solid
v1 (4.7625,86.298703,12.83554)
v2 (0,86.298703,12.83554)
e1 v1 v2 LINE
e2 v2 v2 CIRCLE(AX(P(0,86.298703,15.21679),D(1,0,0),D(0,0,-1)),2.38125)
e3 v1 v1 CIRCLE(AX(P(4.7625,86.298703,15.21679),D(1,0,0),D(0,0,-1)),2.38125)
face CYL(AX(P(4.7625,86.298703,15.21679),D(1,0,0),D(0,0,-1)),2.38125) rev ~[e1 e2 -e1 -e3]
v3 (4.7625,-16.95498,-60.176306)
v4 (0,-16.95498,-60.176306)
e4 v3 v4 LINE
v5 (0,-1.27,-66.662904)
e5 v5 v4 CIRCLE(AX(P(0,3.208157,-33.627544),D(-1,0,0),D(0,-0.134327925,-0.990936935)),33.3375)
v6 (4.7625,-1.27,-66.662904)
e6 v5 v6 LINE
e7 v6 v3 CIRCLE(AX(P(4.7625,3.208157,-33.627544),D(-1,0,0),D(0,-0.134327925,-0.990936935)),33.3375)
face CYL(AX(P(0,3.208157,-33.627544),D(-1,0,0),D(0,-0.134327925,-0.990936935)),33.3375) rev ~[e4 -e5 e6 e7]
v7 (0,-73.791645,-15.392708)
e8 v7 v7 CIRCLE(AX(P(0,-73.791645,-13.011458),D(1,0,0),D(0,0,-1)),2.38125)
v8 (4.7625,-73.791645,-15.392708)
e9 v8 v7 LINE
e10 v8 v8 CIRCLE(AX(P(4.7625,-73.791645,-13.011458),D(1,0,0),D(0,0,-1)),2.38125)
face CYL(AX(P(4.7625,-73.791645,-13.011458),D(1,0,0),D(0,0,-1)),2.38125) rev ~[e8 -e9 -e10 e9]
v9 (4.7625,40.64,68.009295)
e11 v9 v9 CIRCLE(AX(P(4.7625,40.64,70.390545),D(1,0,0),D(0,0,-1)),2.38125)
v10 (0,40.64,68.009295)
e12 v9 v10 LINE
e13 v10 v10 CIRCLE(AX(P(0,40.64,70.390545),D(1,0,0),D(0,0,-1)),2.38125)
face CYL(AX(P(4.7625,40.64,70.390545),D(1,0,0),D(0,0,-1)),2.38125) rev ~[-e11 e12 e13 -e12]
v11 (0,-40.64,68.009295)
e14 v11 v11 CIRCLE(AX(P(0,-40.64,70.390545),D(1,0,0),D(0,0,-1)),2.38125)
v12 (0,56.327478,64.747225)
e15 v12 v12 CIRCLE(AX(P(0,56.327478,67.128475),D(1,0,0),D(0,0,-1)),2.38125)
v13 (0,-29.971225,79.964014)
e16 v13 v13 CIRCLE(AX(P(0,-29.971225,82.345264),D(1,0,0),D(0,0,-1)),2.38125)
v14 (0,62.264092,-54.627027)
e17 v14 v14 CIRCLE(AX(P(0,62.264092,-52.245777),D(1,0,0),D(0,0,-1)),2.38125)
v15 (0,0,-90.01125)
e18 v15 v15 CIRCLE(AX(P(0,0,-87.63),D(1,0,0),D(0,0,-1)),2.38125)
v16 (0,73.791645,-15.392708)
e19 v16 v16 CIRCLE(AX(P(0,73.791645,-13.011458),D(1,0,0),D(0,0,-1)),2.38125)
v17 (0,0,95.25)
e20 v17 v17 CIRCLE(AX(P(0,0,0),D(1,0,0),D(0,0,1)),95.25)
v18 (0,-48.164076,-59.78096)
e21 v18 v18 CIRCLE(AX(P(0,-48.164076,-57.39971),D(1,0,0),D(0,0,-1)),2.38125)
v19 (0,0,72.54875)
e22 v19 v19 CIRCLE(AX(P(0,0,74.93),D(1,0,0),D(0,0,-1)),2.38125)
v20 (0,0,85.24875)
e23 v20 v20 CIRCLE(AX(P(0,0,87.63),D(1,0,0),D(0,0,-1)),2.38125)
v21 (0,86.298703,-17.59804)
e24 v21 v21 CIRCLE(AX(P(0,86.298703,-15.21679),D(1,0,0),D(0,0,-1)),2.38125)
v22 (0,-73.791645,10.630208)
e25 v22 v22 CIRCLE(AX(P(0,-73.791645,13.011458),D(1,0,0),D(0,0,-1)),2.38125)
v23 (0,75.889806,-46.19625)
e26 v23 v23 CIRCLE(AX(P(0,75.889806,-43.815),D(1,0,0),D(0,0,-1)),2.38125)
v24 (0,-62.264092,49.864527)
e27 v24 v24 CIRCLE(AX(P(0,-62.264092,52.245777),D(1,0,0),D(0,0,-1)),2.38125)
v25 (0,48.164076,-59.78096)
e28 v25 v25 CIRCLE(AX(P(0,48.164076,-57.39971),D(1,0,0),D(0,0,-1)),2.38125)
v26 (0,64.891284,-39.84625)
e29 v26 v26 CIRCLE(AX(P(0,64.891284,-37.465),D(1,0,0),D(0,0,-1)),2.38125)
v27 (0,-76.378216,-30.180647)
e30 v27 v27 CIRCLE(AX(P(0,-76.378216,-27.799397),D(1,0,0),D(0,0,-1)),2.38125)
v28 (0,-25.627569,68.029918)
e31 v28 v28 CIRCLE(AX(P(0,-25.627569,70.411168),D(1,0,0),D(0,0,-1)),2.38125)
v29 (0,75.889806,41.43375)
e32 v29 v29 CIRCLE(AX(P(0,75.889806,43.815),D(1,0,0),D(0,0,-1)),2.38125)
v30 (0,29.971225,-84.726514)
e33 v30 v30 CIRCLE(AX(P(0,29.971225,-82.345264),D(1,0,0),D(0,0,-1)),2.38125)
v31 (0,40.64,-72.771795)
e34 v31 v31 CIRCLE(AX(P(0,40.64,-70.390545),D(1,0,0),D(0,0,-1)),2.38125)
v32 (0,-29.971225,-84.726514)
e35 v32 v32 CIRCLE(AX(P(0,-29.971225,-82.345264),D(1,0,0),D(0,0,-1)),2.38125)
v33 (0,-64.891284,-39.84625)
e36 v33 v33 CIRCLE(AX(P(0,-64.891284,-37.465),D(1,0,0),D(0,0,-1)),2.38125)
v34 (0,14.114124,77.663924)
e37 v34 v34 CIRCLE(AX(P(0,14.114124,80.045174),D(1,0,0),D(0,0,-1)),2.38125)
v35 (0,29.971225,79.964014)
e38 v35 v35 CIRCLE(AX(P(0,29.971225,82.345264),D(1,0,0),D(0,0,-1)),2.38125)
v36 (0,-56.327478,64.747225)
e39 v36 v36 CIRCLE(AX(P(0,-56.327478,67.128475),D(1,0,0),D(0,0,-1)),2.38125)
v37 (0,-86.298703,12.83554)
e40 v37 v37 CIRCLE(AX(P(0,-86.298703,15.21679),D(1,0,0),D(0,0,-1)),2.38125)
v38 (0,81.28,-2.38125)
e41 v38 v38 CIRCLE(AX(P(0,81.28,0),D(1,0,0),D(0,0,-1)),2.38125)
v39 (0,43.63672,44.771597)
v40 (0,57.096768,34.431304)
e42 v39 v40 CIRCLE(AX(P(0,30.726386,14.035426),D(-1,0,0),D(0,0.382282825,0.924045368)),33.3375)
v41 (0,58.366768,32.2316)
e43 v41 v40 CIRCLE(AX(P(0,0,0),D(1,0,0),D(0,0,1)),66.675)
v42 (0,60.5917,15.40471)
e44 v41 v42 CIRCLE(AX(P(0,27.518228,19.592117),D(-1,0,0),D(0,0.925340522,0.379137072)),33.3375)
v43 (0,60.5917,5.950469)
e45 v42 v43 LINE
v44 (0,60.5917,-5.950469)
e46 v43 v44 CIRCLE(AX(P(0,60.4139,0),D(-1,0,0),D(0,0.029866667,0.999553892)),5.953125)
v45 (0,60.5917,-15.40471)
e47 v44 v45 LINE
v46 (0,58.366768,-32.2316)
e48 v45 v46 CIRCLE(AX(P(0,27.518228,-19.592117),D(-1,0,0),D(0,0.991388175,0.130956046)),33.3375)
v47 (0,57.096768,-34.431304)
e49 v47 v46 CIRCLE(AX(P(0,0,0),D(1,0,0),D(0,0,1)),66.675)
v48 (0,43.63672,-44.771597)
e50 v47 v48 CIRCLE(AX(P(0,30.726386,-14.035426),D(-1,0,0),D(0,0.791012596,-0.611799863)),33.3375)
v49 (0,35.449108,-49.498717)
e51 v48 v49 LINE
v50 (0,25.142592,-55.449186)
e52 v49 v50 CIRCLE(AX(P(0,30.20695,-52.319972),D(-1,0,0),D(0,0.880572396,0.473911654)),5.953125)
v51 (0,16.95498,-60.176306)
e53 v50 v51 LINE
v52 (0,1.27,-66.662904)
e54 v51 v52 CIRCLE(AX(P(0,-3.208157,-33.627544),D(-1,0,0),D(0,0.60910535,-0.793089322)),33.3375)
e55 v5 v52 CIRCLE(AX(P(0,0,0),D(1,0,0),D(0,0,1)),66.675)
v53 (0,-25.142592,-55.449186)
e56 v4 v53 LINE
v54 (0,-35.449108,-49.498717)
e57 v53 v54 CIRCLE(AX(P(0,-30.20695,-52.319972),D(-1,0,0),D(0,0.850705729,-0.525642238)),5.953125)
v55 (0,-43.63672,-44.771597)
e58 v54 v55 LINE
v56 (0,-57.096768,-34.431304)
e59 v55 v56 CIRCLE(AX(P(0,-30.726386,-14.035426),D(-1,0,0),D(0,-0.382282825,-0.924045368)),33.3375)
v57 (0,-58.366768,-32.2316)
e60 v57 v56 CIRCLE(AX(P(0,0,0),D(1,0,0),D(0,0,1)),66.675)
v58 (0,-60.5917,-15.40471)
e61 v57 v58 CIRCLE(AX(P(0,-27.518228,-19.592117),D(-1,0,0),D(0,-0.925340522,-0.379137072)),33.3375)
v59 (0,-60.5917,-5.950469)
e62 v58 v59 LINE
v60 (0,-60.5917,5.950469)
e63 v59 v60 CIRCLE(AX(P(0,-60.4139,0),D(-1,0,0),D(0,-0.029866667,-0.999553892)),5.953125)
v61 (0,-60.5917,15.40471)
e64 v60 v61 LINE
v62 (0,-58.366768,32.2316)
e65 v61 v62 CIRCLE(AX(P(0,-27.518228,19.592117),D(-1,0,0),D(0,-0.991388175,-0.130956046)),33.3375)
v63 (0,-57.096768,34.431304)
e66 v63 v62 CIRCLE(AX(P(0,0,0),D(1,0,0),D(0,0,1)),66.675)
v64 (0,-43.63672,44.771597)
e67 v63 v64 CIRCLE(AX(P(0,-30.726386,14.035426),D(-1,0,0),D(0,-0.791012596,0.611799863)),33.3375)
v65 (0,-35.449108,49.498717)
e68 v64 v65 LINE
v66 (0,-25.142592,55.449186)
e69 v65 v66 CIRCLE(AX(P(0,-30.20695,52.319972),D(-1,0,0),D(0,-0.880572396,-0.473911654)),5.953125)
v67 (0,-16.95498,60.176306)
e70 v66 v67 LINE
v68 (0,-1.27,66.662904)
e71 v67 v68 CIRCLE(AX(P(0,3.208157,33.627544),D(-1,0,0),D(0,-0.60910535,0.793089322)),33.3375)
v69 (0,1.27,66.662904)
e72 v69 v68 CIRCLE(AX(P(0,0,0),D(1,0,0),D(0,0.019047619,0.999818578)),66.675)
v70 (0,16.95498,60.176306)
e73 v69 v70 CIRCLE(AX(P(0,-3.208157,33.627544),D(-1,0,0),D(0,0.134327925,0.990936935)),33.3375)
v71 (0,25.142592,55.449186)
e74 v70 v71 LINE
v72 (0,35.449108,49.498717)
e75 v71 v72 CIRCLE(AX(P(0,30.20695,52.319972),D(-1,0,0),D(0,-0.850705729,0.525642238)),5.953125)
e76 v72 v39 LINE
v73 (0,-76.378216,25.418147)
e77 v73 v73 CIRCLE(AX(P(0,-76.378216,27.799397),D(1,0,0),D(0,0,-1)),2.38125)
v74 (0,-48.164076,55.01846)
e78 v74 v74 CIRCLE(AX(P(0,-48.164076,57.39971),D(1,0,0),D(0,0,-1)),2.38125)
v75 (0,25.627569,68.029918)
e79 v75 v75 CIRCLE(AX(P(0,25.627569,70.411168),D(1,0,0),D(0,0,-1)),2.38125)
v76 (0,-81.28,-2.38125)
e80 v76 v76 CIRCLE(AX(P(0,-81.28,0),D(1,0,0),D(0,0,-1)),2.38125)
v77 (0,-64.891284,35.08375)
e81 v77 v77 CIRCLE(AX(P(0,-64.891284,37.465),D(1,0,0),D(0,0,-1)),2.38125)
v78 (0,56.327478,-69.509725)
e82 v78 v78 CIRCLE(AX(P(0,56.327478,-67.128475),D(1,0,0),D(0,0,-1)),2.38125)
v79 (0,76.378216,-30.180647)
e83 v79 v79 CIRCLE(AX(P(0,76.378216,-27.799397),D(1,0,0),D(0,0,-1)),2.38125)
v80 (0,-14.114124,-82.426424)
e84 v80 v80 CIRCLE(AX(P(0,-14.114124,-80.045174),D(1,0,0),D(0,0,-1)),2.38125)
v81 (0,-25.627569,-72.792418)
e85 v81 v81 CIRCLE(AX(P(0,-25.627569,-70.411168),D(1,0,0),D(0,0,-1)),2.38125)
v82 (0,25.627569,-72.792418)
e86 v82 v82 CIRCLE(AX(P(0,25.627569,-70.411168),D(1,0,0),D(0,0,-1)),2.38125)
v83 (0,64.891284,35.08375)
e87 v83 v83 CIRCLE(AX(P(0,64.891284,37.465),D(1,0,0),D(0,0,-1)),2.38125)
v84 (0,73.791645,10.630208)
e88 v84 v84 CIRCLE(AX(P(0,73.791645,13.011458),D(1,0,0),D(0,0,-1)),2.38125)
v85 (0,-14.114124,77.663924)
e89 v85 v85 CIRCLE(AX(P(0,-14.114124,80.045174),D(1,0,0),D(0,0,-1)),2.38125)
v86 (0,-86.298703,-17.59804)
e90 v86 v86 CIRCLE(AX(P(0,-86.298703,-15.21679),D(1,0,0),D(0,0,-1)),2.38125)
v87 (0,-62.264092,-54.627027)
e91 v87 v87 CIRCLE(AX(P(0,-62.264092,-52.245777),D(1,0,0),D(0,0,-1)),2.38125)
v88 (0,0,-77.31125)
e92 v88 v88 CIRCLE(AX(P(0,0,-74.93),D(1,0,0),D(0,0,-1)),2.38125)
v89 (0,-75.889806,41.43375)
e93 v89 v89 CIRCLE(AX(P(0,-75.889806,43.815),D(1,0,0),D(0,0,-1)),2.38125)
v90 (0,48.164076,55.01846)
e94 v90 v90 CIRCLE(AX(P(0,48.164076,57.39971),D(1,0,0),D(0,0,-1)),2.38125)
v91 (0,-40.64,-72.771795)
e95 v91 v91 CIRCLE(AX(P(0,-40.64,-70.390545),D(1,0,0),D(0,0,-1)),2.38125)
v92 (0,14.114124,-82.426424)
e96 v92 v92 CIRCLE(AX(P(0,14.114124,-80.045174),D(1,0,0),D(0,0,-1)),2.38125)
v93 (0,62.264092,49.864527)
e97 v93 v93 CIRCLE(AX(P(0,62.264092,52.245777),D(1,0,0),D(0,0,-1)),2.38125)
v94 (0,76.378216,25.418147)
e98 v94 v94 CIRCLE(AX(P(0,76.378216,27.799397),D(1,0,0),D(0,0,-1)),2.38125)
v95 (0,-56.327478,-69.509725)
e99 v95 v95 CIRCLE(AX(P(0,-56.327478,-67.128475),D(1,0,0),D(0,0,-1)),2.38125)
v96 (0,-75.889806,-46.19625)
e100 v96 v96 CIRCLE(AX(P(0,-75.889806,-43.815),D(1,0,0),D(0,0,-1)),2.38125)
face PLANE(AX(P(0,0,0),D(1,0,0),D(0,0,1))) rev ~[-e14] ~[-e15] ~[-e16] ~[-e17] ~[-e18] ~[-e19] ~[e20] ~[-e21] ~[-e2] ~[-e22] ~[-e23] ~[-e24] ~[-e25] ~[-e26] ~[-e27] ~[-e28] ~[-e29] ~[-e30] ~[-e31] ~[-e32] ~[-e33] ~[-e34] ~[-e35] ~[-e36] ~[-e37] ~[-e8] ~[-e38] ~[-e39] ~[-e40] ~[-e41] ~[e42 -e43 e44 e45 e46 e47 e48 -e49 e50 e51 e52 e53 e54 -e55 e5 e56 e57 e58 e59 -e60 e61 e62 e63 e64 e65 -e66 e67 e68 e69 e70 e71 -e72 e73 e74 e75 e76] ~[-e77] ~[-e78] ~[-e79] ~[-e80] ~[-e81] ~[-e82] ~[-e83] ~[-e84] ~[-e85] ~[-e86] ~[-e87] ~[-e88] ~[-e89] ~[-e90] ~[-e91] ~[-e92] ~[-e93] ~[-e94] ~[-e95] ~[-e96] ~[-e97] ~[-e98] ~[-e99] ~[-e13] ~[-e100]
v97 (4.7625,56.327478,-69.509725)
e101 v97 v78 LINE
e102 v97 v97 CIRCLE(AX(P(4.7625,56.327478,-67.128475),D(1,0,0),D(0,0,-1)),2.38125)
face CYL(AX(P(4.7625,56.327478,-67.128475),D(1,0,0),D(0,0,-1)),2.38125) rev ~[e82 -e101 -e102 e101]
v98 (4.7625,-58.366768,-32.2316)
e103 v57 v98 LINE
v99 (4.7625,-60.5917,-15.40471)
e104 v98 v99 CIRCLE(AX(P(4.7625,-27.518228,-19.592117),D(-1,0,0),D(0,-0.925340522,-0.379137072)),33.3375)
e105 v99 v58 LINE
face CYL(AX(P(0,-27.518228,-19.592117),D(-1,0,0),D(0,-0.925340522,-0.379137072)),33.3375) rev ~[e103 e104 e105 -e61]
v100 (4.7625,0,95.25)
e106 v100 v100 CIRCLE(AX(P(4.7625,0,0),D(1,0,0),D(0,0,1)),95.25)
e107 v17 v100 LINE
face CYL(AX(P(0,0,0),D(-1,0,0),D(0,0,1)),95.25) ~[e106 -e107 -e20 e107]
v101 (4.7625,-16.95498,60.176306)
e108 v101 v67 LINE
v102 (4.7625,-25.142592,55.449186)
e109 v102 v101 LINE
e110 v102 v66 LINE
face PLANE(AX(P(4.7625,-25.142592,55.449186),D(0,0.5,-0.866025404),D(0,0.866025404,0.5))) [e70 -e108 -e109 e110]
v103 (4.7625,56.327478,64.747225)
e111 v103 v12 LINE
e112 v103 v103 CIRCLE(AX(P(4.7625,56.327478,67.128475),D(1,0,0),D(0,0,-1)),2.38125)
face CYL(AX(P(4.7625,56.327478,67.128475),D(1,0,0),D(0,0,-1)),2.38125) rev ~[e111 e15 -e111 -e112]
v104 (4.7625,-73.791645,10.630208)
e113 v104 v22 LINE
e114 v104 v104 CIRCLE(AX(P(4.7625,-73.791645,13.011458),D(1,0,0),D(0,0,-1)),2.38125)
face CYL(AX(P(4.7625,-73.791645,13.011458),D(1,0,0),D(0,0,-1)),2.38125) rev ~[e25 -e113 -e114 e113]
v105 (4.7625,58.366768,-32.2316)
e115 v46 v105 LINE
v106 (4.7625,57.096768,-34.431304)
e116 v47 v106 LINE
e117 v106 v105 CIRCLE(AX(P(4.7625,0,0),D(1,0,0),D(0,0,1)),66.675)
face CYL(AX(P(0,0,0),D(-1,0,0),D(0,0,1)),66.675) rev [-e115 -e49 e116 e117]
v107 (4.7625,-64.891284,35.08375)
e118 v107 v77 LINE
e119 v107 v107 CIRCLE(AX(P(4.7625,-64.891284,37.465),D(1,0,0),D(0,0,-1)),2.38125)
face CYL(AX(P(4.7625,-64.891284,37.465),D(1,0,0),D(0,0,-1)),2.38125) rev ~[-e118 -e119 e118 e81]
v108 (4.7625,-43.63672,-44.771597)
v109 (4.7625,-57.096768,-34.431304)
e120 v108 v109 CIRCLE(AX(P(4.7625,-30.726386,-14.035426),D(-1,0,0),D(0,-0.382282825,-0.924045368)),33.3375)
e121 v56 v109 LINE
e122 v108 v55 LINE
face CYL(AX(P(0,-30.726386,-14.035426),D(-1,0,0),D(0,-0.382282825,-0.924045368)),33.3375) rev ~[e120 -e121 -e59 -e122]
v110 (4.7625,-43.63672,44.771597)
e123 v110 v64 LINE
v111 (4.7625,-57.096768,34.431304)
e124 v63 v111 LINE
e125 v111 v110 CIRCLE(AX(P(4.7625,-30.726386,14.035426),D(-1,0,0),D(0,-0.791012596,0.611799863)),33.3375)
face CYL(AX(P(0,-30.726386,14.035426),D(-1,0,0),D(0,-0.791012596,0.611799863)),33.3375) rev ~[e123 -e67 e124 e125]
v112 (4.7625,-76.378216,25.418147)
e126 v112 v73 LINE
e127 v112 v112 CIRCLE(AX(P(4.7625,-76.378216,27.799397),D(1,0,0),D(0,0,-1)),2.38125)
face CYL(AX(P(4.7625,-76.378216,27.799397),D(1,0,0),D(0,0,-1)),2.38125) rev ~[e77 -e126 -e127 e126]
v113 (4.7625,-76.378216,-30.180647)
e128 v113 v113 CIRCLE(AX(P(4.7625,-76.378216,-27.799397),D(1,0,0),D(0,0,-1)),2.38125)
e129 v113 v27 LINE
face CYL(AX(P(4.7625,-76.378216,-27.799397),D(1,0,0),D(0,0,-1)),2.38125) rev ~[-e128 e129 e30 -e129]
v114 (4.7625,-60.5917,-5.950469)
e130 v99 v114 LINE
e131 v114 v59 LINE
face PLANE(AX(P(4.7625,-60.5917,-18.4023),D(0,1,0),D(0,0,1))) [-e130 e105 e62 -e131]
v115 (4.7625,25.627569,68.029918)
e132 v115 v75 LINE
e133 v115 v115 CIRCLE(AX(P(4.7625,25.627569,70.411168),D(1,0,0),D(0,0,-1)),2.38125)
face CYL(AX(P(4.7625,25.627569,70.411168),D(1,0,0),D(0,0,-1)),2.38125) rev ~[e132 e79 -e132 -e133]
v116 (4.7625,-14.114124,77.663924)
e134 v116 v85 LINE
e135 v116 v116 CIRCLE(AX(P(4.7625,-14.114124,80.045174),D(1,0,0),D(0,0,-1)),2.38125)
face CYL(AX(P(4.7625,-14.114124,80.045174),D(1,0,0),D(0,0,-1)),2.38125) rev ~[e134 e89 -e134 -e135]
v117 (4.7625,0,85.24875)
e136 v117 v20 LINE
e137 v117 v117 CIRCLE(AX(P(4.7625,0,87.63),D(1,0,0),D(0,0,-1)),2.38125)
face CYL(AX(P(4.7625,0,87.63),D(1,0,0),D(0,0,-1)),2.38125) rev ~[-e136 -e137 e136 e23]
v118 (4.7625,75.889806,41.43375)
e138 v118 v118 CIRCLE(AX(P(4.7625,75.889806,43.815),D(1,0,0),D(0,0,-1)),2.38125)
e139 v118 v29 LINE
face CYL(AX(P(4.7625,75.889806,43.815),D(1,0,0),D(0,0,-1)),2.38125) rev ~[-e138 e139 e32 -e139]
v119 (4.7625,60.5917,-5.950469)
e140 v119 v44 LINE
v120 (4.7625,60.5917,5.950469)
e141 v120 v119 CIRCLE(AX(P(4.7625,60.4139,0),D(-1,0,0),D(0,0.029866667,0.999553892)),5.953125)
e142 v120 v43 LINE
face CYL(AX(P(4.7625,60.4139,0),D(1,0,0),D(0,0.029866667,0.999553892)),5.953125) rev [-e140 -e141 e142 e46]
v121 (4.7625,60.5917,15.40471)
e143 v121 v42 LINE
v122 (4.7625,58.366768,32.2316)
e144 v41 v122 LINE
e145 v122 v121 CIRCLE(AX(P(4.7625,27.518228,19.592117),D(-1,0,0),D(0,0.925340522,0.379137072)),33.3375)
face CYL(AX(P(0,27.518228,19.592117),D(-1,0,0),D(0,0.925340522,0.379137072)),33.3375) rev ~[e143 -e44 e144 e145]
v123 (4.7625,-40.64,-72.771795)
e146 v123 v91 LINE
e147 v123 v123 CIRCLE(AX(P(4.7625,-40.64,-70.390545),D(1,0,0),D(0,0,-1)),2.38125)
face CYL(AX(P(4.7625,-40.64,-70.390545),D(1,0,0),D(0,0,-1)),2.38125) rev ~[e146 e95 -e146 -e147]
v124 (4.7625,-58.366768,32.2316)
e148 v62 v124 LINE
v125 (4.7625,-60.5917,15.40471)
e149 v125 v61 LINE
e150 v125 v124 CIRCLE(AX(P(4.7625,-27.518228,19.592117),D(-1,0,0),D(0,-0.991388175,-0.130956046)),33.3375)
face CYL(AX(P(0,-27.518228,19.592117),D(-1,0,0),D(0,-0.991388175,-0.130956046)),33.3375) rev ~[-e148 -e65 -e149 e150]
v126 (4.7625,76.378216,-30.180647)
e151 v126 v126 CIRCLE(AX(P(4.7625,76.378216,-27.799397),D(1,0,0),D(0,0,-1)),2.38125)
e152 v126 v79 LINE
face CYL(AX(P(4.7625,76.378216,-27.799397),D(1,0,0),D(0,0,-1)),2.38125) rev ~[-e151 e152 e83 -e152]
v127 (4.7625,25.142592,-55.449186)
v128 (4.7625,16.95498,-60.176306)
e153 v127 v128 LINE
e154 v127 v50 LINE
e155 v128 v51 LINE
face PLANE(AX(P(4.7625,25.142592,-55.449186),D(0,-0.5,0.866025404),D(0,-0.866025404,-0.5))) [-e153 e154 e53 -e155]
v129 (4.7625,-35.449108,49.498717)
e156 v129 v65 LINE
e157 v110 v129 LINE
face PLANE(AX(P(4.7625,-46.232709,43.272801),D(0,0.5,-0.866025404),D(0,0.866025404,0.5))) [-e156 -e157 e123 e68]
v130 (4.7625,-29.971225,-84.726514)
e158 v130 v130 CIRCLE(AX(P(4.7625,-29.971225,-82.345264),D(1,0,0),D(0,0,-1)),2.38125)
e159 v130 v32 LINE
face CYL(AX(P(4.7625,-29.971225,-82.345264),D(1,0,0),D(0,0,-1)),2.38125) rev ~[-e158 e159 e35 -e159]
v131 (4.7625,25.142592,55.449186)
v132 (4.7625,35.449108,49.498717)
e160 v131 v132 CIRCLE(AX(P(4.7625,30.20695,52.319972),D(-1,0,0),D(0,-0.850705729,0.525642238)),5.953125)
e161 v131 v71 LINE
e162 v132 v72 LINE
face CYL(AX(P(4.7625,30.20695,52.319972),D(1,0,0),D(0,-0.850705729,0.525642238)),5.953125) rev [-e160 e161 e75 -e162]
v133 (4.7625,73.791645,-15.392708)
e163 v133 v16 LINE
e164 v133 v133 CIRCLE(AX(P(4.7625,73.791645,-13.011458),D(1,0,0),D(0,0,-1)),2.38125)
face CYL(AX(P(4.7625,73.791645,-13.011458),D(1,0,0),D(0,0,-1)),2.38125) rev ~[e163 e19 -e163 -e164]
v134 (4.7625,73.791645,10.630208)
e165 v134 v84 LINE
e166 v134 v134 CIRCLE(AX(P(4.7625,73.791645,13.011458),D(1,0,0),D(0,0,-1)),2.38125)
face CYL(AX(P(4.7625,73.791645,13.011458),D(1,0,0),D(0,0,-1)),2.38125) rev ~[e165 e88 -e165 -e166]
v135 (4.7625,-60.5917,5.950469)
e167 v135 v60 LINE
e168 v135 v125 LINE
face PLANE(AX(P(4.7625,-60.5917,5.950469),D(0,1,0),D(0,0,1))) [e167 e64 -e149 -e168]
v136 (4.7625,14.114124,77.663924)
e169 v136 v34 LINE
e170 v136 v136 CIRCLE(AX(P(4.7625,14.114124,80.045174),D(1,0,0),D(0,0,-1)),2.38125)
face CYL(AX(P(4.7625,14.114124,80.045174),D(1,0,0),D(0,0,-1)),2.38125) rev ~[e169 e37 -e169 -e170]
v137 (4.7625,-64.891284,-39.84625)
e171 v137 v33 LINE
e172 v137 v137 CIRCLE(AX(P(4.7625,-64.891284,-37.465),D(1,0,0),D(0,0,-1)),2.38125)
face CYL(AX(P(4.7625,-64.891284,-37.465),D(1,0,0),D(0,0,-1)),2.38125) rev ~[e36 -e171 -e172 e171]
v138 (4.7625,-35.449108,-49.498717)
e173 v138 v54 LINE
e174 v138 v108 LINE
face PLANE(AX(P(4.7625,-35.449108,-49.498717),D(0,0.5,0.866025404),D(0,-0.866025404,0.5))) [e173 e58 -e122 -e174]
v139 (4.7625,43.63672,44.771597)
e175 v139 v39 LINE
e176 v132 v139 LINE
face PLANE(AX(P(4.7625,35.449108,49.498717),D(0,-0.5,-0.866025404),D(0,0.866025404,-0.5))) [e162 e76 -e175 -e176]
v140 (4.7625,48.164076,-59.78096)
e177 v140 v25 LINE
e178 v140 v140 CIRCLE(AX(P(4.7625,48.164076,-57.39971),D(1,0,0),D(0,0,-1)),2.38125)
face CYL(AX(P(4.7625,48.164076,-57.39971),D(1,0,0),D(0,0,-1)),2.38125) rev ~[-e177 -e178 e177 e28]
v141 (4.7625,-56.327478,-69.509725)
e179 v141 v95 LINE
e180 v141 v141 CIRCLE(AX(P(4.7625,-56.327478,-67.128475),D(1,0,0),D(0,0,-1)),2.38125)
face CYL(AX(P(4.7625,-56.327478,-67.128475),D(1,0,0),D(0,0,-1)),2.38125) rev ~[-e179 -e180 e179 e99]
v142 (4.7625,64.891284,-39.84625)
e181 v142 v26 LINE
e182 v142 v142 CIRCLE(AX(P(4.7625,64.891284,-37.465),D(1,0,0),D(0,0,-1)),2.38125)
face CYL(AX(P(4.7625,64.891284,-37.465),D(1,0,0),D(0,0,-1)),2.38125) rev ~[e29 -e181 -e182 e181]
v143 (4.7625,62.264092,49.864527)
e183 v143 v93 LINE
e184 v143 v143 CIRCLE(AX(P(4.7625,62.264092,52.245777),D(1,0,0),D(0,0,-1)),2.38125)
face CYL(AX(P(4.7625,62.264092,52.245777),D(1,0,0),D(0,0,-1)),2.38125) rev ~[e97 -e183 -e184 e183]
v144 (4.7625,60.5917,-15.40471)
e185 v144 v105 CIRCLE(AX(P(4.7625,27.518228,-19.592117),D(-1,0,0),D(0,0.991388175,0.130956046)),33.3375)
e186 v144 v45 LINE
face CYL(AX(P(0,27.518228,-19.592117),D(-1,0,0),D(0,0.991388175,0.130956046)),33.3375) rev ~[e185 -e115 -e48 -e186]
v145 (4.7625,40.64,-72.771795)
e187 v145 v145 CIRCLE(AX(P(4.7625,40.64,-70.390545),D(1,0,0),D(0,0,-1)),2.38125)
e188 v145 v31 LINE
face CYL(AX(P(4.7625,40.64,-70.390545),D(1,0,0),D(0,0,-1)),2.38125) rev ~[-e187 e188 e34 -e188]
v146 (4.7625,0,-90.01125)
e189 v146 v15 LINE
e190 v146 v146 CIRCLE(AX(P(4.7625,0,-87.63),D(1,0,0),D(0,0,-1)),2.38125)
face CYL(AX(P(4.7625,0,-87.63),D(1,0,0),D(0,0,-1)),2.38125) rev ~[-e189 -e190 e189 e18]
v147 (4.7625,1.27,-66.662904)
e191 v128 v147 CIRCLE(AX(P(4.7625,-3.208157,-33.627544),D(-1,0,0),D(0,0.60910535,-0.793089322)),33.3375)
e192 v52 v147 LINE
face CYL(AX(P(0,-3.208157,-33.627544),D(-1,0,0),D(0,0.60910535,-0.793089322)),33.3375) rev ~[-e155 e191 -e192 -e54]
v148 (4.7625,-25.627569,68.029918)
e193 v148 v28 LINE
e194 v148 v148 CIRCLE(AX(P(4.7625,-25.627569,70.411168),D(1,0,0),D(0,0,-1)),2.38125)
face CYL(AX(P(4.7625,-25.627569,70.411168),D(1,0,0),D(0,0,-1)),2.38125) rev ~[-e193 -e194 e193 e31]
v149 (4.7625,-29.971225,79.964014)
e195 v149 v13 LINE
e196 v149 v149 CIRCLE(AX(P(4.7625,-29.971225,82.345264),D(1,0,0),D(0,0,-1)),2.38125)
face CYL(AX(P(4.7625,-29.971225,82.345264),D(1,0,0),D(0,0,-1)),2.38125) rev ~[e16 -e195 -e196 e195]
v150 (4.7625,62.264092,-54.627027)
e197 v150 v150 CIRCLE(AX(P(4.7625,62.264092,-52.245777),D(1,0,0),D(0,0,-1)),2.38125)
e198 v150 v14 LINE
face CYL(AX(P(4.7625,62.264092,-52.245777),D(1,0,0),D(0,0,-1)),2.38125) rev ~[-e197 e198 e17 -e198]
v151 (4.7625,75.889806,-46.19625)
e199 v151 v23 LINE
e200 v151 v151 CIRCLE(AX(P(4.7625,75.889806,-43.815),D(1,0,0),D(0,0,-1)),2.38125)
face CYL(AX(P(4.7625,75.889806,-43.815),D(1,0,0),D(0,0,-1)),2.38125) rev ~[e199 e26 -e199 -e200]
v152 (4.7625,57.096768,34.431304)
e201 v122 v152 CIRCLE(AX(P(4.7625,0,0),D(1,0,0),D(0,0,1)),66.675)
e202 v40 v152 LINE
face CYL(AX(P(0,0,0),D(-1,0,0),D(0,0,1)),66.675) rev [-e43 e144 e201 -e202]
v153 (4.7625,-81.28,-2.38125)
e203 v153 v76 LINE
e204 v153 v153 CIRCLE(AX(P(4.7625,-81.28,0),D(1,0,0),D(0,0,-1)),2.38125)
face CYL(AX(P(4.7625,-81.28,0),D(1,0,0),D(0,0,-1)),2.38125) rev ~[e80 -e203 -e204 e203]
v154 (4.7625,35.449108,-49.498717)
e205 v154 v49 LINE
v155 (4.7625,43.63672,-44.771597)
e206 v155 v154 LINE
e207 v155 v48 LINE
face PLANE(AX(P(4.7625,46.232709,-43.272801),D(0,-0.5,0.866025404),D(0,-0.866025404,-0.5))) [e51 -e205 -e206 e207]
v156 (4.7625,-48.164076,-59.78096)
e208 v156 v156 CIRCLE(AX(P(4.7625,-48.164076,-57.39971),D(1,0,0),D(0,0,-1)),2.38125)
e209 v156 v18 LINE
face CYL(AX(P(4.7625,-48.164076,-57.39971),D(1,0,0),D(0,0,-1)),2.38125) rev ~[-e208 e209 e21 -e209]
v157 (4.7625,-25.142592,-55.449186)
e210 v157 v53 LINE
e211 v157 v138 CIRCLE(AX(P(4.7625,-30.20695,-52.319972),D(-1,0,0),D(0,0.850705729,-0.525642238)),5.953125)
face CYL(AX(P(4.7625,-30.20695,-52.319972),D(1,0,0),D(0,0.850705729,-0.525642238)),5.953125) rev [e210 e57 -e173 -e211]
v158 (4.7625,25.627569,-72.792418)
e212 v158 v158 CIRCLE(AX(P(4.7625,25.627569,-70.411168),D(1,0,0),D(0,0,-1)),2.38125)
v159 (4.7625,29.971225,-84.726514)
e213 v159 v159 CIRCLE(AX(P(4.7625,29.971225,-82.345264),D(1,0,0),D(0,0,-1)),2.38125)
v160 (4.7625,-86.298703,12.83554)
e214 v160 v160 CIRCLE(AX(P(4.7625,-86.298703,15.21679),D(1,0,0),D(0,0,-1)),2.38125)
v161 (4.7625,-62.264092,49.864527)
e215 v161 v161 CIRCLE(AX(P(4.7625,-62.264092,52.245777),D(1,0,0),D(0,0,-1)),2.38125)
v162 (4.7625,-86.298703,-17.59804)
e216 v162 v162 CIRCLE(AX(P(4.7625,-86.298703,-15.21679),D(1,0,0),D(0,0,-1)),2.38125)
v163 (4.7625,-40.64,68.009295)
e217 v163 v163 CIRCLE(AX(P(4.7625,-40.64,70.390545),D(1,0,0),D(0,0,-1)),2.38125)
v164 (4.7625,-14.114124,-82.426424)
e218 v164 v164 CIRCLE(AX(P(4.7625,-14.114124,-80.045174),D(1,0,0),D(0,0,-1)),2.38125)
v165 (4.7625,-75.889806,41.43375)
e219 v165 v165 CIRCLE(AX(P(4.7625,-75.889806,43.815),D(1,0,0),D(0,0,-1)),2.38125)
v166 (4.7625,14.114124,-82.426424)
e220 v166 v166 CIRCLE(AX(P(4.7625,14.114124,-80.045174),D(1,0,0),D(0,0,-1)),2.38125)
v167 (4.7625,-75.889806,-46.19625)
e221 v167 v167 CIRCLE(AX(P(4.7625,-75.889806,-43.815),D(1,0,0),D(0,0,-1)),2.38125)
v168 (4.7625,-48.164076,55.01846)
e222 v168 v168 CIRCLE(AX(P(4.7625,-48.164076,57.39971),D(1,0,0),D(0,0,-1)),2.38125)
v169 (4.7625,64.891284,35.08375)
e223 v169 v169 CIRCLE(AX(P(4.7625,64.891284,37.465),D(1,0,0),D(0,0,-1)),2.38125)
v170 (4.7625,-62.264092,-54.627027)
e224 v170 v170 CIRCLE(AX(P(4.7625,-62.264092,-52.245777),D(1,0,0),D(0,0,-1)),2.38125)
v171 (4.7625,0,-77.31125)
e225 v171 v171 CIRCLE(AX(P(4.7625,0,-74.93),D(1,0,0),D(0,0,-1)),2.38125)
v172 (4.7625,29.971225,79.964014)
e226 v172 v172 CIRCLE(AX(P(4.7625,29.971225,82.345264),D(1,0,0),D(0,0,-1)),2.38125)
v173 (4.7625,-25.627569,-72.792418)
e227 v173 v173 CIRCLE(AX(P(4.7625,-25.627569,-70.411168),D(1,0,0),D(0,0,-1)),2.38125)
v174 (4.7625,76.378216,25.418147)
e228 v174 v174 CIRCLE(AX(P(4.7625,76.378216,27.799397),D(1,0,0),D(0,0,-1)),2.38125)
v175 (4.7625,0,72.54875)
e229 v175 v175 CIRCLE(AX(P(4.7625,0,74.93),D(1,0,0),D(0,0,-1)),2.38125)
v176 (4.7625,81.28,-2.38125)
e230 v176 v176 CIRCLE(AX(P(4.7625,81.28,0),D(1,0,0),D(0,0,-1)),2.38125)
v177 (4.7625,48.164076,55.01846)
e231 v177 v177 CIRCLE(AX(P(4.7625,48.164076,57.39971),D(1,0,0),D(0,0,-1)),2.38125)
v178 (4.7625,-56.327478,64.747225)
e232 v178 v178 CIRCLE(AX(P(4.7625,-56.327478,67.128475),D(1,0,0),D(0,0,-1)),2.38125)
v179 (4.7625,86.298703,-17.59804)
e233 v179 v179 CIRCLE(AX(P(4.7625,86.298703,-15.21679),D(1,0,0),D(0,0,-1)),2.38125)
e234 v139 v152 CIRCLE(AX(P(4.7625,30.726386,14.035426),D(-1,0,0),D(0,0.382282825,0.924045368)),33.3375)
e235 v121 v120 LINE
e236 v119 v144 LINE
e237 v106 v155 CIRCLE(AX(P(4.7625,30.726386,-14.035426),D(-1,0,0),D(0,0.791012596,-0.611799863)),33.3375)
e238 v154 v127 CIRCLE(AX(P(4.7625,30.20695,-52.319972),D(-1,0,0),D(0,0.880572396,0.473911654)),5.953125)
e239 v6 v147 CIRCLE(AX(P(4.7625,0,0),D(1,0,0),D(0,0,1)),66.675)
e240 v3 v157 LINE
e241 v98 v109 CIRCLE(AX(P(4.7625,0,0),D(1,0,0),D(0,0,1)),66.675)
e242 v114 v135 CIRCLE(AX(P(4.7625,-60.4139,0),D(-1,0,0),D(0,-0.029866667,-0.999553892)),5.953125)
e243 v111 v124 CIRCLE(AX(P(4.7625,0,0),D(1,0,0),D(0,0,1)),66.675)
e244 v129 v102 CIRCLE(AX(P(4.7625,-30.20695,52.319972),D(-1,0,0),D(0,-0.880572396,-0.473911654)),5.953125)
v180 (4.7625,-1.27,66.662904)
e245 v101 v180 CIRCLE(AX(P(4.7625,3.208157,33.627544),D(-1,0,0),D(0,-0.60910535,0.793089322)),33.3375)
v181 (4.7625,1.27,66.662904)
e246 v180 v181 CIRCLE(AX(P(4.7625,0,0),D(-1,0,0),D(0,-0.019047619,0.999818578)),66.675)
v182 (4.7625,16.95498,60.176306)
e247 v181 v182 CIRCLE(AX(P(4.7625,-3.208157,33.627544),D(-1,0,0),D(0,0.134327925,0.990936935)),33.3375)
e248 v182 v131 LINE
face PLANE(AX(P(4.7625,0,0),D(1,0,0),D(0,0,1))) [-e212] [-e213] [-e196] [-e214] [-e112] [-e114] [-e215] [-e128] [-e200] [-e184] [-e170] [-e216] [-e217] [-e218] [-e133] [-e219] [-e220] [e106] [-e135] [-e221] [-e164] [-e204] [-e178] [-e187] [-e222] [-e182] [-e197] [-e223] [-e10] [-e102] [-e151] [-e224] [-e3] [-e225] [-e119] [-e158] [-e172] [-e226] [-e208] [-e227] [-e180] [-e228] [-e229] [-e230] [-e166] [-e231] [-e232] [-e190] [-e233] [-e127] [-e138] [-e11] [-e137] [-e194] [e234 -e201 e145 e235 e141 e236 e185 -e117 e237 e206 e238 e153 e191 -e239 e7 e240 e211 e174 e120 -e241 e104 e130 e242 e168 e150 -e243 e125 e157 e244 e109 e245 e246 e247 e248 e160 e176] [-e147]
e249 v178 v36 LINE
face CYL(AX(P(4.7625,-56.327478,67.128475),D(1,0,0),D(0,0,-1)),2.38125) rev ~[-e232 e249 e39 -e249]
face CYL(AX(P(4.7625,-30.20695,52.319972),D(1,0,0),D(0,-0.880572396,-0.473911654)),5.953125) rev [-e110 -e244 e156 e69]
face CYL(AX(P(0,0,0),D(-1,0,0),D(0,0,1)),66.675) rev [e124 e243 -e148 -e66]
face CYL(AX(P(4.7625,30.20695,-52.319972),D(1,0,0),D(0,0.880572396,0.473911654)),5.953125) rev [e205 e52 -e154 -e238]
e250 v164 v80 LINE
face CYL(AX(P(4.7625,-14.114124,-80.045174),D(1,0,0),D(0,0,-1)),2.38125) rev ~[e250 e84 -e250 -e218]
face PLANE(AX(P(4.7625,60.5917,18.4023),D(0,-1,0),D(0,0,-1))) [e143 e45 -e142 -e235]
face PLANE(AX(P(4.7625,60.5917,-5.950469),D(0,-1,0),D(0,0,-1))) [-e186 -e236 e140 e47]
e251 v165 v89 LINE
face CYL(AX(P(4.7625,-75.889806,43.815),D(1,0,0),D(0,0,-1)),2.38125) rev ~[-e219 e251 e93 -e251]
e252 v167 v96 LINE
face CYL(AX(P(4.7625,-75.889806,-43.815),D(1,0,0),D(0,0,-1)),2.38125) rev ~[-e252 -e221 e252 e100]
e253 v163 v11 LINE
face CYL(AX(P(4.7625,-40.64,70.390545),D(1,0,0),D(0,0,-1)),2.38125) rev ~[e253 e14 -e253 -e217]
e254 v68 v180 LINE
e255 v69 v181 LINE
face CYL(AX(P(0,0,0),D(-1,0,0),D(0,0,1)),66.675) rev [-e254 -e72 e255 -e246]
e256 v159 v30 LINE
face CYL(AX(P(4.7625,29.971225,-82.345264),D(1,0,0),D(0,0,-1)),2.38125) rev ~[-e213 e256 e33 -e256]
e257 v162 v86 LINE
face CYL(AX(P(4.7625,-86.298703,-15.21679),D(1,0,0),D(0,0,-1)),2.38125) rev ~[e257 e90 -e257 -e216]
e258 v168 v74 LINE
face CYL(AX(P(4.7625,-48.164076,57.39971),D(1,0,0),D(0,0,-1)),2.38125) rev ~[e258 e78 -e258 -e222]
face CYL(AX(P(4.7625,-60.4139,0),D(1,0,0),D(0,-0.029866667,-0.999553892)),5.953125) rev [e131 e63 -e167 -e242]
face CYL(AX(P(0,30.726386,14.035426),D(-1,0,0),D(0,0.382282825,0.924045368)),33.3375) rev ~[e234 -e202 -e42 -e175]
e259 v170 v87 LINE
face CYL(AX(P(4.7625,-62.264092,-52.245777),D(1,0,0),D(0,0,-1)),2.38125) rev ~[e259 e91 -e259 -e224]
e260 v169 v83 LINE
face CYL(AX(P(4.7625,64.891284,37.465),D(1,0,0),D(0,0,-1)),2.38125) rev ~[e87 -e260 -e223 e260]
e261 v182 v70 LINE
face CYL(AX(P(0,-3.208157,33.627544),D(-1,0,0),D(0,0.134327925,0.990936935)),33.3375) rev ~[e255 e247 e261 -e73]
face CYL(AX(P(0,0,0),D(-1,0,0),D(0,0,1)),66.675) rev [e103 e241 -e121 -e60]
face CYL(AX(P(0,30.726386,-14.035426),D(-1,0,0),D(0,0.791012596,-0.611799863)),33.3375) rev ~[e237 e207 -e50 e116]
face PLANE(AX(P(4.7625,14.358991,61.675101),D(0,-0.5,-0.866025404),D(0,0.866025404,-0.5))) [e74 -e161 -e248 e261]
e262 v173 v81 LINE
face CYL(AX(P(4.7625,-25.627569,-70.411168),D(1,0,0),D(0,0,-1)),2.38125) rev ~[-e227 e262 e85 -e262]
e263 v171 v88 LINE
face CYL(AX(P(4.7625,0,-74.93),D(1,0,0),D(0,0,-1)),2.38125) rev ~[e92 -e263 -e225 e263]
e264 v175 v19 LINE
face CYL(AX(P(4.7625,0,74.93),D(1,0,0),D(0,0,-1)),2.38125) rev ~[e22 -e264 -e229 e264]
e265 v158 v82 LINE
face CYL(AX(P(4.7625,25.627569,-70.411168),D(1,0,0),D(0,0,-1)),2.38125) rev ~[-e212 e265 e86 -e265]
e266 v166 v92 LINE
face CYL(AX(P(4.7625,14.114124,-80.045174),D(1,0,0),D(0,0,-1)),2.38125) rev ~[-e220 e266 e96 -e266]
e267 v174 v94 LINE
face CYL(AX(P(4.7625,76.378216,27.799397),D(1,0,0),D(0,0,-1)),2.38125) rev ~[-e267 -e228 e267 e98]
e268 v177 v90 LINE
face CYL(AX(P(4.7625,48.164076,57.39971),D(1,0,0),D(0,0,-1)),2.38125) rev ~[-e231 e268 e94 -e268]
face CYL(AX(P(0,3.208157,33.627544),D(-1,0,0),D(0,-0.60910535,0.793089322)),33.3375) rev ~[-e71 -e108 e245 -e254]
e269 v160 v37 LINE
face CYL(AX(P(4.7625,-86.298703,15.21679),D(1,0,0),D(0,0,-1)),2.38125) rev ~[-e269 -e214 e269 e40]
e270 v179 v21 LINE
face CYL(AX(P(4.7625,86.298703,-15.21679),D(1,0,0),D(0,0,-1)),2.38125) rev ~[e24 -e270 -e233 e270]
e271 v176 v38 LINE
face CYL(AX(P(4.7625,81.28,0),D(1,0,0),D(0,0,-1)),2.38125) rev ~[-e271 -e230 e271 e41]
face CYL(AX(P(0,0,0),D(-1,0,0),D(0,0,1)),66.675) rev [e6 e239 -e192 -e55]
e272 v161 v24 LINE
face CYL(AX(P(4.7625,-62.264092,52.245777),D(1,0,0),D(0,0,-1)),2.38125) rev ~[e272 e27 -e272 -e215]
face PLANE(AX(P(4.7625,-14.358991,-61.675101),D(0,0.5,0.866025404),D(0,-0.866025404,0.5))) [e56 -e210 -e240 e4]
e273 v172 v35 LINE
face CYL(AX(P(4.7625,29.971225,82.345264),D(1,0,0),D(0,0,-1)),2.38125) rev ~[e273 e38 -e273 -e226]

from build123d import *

# Parameters (mm, degrees)
SKETCH1_R           = 95.25
SKETCH1_R_2         = 66.675
MAIN_ROTOR_DEPTH    = 4.7625
SKETCH2_R           = 2.38125
CUT_SLOTS_DEPTH     = 135.788005424
BOSS_EXTRUDE2_START = -4.7625
BOSS_EXTRUDE2_DEPTH = 4.7625
SKETCH4_R           = 1.27
CUT_EXTRUDE2_DEPTH  = 135.788005424
FE12_CUT_OUT_DEPTH  = 4.7625
CIRPATTERN1_COUNT   = 6
SKETCH7_R           = 46.99
CLEANUP_CUT_DEPTH   = 135.788005424


with BuildPart() as part:
    # Sketch1 → Main Rotor (new body)
    with BuildSketch(Plane(origin=(0, 0, 0), x_dir=(0, 0, -1), z_dir=(1, 0, 0))):
        with Locations(Location((0, 0, 0), (0, 0, 180))):
            Circle(SKETCH1_R)
        with Locations(Location((0, 0, 0), (0, 0, 180))):
            Circle(SKETCH1_R_2, mode=Mode.SUBTRACT)
    extrude(amount=MAIN_ROTOR_DEPTH)

    # Sketch2 → Cut Slots (cut, through all)
    with BuildSketch(Plane(origin=(4.7625, 0, 0), x_dir=(0, 0, -1), z_dir=(1, 0, 0))):
        with Locations((-80.045174165, 14.114123881)):
            Circle(SKETCH2_R)
        with Locations((-82.345264359, 29.97122516)):
            Circle(SKETCH2_R)
        with Locations((-70.411168075, 25.627569339)):
            Circle(SKETCH2_R)
        with Locations((-70.39054482, 40.64)):
            Circle(SKETCH2_R)
        with Locations((-67.128474551, 56.327478237)):
            Circle(SKETCH2_R)
        with Locations((-57.399710123, 48.164075594)):
            Circle(SKETCH2_R)
        with Locations((-52.245776915, 62.264092337)):
            Circle(SKETCH2_R)
        with Locations((-87.63, 0)):
            Circle(SKETCH2_R)
        with Locations((-43.815, 75.889806134)):
            Circle(SKETCH2_R)
        with Locations((-37.465, 64.891283506)):
            Circle(SKETCH2_R)
        with Locations((-74.93, 0)):
            Circle(SKETCH2_R)
        with Locations((-27.79939725, 76.378216217)):
            Circle(SKETCH2_R)
        with Locations((-15.216789809, 86.298703396)):
            Circle(SKETCH2_R)
        with Locations((-13.011457953, 73.791644933)):
            Circle(SKETCH2_R)
        with Locations((0, 81.28)):
            Circle(SKETCH2_R)
        with Locations((15.216789809, 86.298703396)):
            Circle(SKETCH2_R)
        with Locations((13.011457953, 73.791644933)):
            Circle(SKETCH2_R)
        with Locations((27.79939725, 76.378216217)):
            Circle(SKETCH2_R)
        with Locations((43.815, 75.889806134)):
            Circle(SKETCH2_R)
        with Locations((37.465, 64.891283506)):
            Circle(SKETCH2_R)
        with Locations((52.245776915, 62.264092337)):
            Circle(SKETCH2_R)
        with Locations((67.128474551, 56.327478237)):
            Circle(SKETCH2_R)
        with Locations((57.399710123, 48.164075594)):
            Circle(SKETCH2_R)
        with Locations((70.39054482, 40.64)):
            Circle(SKETCH2_R)
        with Locations((82.345264359, 29.97122516)):
            Circle(SKETCH2_R)
        with Locations((70.411168075, 25.627569339)):
            Circle(SKETCH2_R)
        with Locations((80.045174165, 14.114123881)):
            Circle(SKETCH2_R)
        with Locations((87.63, 0)):
            Circle(SKETCH2_R)
        with Locations((74.93, 0)):
            Circle(SKETCH2_R)
        with Locations((80.045174165, -14.114123881)):
            Circle(SKETCH2_R)
        with Locations((82.345264359, -29.97122516)):
            Circle(SKETCH2_R)
        with Locations((70.411168075, -25.627569339)):
            Circle(SKETCH2_R)
        with Locations((70.39054482, -40.64)):
            Circle(SKETCH2_R)
        with Locations((67.128474551, -56.327478237)):
            Circle(SKETCH2_R)
        with Locations((57.399710123, -48.164075594)):
            Circle(SKETCH2_R)
        with Locations((52.245776915, -62.264092337)):
            Circle(SKETCH2_R)
        with Locations((43.815, -75.889806134)):
            Circle(SKETCH2_R)
        with Locations((37.465, -64.891283506)):
            Circle(SKETCH2_R)
        with Locations((27.79939725, -76.378216217)):
            Circle(SKETCH2_R)
        with Locations((15.216789809, -86.298703396)):
            Circle(SKETCH2_R)
        with Locations((13.011457953, -73.791644933)):
            Circle(SKETCH2_R)
        with Locations((0, -81.28)):
            Circle(SKETCH2_R)
        with Locations((-15.216789809, -86.298703396)):
            Circle(SKETCH2_R)
        with Locations((-13.011457953, -73.791644933)):
            Circle(SKETCH2_R)
        with Locations((-27.79939725, -76.378216217)):
            Circle(SKETCH2_R)
        with Locations((-43.815, -75.889806134)):
            Circle(SKETCH2_R)
        with Locations((-37.465, -64.891283506)):
            Circle(SKETCH2_R)
        with Locations((-52.245776915, -62.264092337)):
            Circle(SKETCH2_R)
        with Locations((-67.128474551, -56.327478237)):
            Circle(SKETCH2_R)
        with Locations((-57.399710123, -48.164075594)):
            Circle(SKETCH2_R)
        with Locations((-70.39054482, -40.64)):
            Circle(SKETCH2_R)
        with Locations((-82.345264359, -29.97122516)):
            Circle(SKETCH2_R)
        with Locations((-70.411168075, -25.627569339)):
            Circle(SKETCH2_R)
        with Locations((-80.045174165, -14.114123881)):
            Circle(SKETCH2_R)
    extrude(amount=-CUT_SLOTS_DEPTH, mode=Mode.SUBTRACT)

    # Sketch3 → Boss-Extrude2 (add)
    with BuildSketch(Plane(origin=(4.7625, 0, 0), x_dir=(0, 0, -1), z_dir=(1, 0, 0)).offset(BOSS_EXTRUDE2_START)):
        with BuildLine():
            ThreePointArc((15.226370254, -60.56863172), (10.49630902, -58.039692226), (8.604258147, -53.0208121))
            ThreePointArc((8.604258147, -53.0208121), (11.546477683, -42.011879168), (19.60245, -33.952439353))
            ThreePointArc((19.60245, -33.952439353), (30.610115778, -31.005482581), (41.615241134, -33.961912186))
            ThreePointArc((41.615241134, -33.961912186), (45.015693386, -38.109916371), (44.840788615, -43.470739307))
            ThreePointArc((44.840788615, -43.470739307), (40.527102575, -50.964468228), (34.431304095, -57.096768064))
            ThreePointArc((34.431304095, -57.096768064), (57.742243797, -33.3375), (66.662903665, -1.27))
            ThreePointArc((66.662903665, -1.27), (64.400075463, -9.615266258), (60.067158869, -17.097892412))
            ThreePointArc((60.067158869, -17.097892412), (55.512002406, -19.929775856), (50.219499281, -19.058899914))
            ThreePointArc((50.219499281, -19.058899914), (42.156593461, -11.006396586), (39.2049, 0))
            ThreePointArc((39.2049, 0), (42.156593461, 11.006396586), (50.219499281, 19.058899914))
            ThreePointArc((50.219499281, 19.058899914), (55.512002406, 19.929775856), (60.067158869, 17.097892412))
            ThreePointArc((60.067158869, 17.097892412), (64.400075463, 9.615266258), (66.662903665, 1.27))
            ThreePointArc((66.662903665, 1.27), (57.742243797, 33.3375), (34.431304095, 57.096768064))
            ThreePointArc((34.431304095, 57.096768064), (40.527102575, 50.964468228), (44.840788615, 43.470739307))
            ThreePointArc((44.840788615, 43.470739307), (45.015693386, 38.109916371), (41.615241134, 33.961912186))
            ThreePointArc((41.615241134, 33.961912186), (30.610115778, 31.005482581), (19.60245, 33.952439353))
            ThreePointArc((19.60245, 33.952439353), (11.546477683, 42.011879168), (8.604258147, 53.0208121))
            ThreePointArc((8.604258147, 53.0208121), (10.49630902, 58.039692226), (15.226370254, 60.56863172))
            ThreePointArc((15.226370254, 60.56863172), (23.872972888, 60.579734486), (32.23159957, 58.366768064))
            ThreePointArc((32.23159957, 58.366768064), (0, 66.675), (-32.23159957, 58.366768064))
            ThreePointArc((-32.23159957, 58.366768064), (-23.872972888, 60.579734486), (-15.226370254, 60.56863172))
            ThreePointArc((-15.226370254, 60.56863172), (-10.49630902, 58.039692226), (-8.604258147, 53.0208121))
            ThreePointArc((-8.604258147, 53.0208121), (-11.546477683, 42.011879168), (-19.60245, 33.952439353))
            ThreePointArc((-19.60245, 33.952439353), (-30.610115778, 31.005482581), (-41.615241134, 33.961912186))
            ThreePointArc((-41.615241134, 33.961912186), (-45.015693386, 38.109916371), (-44.840788615, 43.470739307))
            ThreePointArc((-44.840788615, 43.470739307), (-40.527102575, 50.964468228), (-34.431304095, 57.096768064))
            ThreePointArc((-34.431304095, 57.096768064), (-57.742243797, 33.3375), (-66.662903665, 1.27))
            ThreePointArc((-66.662903665, 1.27), (-64.400075463, 9.615266258), (-60.067158869, 17.097892412))
            ThreePointArc((-60.067158869, 17.097892412), (-55.512002406, 19.929775856), (-50.219499281, 19.058899914))
            ThreePointArc((-50.219499281, 19.058899914), (-42.156593461, 11.006396586), (-39.2049, 0))
            ThreePointArc((-39.2049, 0), (-42.156593461, -11.006396586), (-50.219499281, -19.058899914))
            ThreePointArc((-50.219499281, -19.058899914), (-55.512002406, -19.929775856), (-60.067158869, -17.097892412))
            ThreePointArc((-60.067158869, -17.097892412), (-64.400075463, -9.615266258), (-66.662903665, -1.27))
            ThreePointArc((-66.662903665, -1.27), (-57.742243797, -33.3375), (-34.431304095, -57.096768064))
            ThreePointArc((-34.431304095, -57.096768064), (-40.527102575, -50.964468228), (-44.840788615, -43.470739307))
            ThreePointArc((-44.840788615, -43.470739307), (-45.015693386, -38.109916371), (-41.615241134, -33.961912186))
            ThreePointArc((-41.615241134, -33.961912186), (-30.610115778, -31.005482581), (-19.60245, -33.952439353))
            ThreePointArc((-19.60245, -33.952439353), (-11.546477683, -42.011879168), (-8.604258147, -53.0208121))
            ThreePointArc((-8.604258147, -53.0208121), (-10.49630902, -58.039692226), (-15.226370254, -60.56863172))
            ThreePointArc((-15.226370254, -60.56863172), (-23.872972888, -60.579734486), (-32.23159957, -58.366768064))
            ThreePointArc((-32.23159957, -58.366768064), (0, -66.675), (32.23159957, -58.366768064))
            ThreePointArc((32.23159957, -58.366768064), (23.872972888, -60.579734486), (15.226370254, -60.56863172))
        make_face()
        with BuildLine():
            Line((-16.8148, 11.541116411), (-1.5875, 20.332602165))
            ThreePointArc((-1.5875, 20.332602165), (0, 21.920102165), (1.5875, 20.332602165))
            Line((1.5875, 20.332602165), (16.8148, 11.541116411))
            ThreePointArc((16.8148, 11.541116411), (18.4023, 11.541116411), (19.19605, 10.166301083))
            ThreePointArc((19.19605, 10.166301083), (18.983365329, 9.372551083), (18.4023, 8.791485754))
            Line((18.4023, 8.791485754), (18.4023, -8.791485754))
            ThreePointArc((18.4023, -8.791485754), (18.983365329, -9.372551083), (19.19605, -10.166301083))
            ThreePointArc((19.19605, -10.166301083), (18.4023, -11.541116411), (16.8148, -11.541116411))
            Line((16.8148, -11.541116411), (1.5875, -20.332602165))
            ThreePointArc((1.5875, -20.332602165), (0, -21.920102165), (-1.5875, -20.332602165))
            Line((-1.5875, -20.332602165), (-16.8148, -11.541116411))
            ThreePointArc((-16.8148, -11.541116411), (-18.983365329, -10.960051083), (-18.4023, -8.791485754))
            Line((-18.4023, -8.791485754), (-18.4023, 8.791485754))
            ThreePointArc((-18.4023, 8.791485754), (-18.983365329, 10.960051083), (-16.8148, 11.541116411))
        make_face(mode=Mode.SUBTRACT)
    extrude(amount=BOSS_EXTRUDE2_DEPTH)

    # Sketch4 → Cut-Extrude2 (cut, through all)
    with BuildSketch(Plane.ZY):
        with Locations((0, 45.212)):
            Circle(SKETCH4_R)
        with Locations((39.154740556, 22.606)):
            Circle(SKETCH4_R)
        with Locations((39.154740556, -22.606)):
            Circle(SKETCH4_R)
        with Locations((0, -45.212)):
            Circle(SKETCH4_R)
        with Locations((-39.154740556, -22.606)):
            Circle(SKETCH4_R)
        with Locations((-39.154740556, 22.606)):
            Circle(SKETCH4_R)
    extrude(amount=-CUT_EXTRUDE2_DEPTH, mode=Mode.SUBTRACT)

    # Sketch6 → FE12 Cut OUt (cut)
    with BuildSketch(Plane(origin=(4.7625, 0, 0), x_dir=(0, 0, -1), z_dir=(1, 0, 0))):
        with BuildLine():
            Line((-18.4023, 60.5917), (-5.950469261, 60.5917))
            ThreePointArc((-5.950469261, 60.5917), (0, 66.367025), (5.950469261, 60.5917))
            Line((5.950469261, 60.5917), (18.4023, 60.5917))
            Line((18.4023, 60.5917), (18.4023, 35.1917))
            Line((18.4023, 35.1917), (-18.4023, 35.1917))
            Line((-18.4023, 35.1917), (-18.4023, 60.5917))
        make_face()
    fe12_cut_out = extrude(amount=-FE12_CUT_OUT_DEPTH, mode=Mode.SUBTRACT)

    # CirPattern1: FE12 Cut OUt ×6 about axis
    cirpattern1_axis = Axis((0, 0, 0), (1, 0, 0))
    for i in range(1, CIRPATTERN1_COUNT):
        add(fe12_cut_out.rotate(cirpattern1_axis, i * 360 / CIRPATTERN1_COUNT), mode=Mode.SUBTRACT)

    # Sketch7 → Cleanup Cut (cut, through all)
    with BuildSketch(Plane(origin=(4.7625, 0, 0), x_dir=(0, 0, -1), z_dir=(1, 0, 0))):
        Circle(SKETCH7_R)
    extrude(amount=-CLEANUP_CUT_DEPTH, mode=Mode.SUBTRACT)


solid = part.part
